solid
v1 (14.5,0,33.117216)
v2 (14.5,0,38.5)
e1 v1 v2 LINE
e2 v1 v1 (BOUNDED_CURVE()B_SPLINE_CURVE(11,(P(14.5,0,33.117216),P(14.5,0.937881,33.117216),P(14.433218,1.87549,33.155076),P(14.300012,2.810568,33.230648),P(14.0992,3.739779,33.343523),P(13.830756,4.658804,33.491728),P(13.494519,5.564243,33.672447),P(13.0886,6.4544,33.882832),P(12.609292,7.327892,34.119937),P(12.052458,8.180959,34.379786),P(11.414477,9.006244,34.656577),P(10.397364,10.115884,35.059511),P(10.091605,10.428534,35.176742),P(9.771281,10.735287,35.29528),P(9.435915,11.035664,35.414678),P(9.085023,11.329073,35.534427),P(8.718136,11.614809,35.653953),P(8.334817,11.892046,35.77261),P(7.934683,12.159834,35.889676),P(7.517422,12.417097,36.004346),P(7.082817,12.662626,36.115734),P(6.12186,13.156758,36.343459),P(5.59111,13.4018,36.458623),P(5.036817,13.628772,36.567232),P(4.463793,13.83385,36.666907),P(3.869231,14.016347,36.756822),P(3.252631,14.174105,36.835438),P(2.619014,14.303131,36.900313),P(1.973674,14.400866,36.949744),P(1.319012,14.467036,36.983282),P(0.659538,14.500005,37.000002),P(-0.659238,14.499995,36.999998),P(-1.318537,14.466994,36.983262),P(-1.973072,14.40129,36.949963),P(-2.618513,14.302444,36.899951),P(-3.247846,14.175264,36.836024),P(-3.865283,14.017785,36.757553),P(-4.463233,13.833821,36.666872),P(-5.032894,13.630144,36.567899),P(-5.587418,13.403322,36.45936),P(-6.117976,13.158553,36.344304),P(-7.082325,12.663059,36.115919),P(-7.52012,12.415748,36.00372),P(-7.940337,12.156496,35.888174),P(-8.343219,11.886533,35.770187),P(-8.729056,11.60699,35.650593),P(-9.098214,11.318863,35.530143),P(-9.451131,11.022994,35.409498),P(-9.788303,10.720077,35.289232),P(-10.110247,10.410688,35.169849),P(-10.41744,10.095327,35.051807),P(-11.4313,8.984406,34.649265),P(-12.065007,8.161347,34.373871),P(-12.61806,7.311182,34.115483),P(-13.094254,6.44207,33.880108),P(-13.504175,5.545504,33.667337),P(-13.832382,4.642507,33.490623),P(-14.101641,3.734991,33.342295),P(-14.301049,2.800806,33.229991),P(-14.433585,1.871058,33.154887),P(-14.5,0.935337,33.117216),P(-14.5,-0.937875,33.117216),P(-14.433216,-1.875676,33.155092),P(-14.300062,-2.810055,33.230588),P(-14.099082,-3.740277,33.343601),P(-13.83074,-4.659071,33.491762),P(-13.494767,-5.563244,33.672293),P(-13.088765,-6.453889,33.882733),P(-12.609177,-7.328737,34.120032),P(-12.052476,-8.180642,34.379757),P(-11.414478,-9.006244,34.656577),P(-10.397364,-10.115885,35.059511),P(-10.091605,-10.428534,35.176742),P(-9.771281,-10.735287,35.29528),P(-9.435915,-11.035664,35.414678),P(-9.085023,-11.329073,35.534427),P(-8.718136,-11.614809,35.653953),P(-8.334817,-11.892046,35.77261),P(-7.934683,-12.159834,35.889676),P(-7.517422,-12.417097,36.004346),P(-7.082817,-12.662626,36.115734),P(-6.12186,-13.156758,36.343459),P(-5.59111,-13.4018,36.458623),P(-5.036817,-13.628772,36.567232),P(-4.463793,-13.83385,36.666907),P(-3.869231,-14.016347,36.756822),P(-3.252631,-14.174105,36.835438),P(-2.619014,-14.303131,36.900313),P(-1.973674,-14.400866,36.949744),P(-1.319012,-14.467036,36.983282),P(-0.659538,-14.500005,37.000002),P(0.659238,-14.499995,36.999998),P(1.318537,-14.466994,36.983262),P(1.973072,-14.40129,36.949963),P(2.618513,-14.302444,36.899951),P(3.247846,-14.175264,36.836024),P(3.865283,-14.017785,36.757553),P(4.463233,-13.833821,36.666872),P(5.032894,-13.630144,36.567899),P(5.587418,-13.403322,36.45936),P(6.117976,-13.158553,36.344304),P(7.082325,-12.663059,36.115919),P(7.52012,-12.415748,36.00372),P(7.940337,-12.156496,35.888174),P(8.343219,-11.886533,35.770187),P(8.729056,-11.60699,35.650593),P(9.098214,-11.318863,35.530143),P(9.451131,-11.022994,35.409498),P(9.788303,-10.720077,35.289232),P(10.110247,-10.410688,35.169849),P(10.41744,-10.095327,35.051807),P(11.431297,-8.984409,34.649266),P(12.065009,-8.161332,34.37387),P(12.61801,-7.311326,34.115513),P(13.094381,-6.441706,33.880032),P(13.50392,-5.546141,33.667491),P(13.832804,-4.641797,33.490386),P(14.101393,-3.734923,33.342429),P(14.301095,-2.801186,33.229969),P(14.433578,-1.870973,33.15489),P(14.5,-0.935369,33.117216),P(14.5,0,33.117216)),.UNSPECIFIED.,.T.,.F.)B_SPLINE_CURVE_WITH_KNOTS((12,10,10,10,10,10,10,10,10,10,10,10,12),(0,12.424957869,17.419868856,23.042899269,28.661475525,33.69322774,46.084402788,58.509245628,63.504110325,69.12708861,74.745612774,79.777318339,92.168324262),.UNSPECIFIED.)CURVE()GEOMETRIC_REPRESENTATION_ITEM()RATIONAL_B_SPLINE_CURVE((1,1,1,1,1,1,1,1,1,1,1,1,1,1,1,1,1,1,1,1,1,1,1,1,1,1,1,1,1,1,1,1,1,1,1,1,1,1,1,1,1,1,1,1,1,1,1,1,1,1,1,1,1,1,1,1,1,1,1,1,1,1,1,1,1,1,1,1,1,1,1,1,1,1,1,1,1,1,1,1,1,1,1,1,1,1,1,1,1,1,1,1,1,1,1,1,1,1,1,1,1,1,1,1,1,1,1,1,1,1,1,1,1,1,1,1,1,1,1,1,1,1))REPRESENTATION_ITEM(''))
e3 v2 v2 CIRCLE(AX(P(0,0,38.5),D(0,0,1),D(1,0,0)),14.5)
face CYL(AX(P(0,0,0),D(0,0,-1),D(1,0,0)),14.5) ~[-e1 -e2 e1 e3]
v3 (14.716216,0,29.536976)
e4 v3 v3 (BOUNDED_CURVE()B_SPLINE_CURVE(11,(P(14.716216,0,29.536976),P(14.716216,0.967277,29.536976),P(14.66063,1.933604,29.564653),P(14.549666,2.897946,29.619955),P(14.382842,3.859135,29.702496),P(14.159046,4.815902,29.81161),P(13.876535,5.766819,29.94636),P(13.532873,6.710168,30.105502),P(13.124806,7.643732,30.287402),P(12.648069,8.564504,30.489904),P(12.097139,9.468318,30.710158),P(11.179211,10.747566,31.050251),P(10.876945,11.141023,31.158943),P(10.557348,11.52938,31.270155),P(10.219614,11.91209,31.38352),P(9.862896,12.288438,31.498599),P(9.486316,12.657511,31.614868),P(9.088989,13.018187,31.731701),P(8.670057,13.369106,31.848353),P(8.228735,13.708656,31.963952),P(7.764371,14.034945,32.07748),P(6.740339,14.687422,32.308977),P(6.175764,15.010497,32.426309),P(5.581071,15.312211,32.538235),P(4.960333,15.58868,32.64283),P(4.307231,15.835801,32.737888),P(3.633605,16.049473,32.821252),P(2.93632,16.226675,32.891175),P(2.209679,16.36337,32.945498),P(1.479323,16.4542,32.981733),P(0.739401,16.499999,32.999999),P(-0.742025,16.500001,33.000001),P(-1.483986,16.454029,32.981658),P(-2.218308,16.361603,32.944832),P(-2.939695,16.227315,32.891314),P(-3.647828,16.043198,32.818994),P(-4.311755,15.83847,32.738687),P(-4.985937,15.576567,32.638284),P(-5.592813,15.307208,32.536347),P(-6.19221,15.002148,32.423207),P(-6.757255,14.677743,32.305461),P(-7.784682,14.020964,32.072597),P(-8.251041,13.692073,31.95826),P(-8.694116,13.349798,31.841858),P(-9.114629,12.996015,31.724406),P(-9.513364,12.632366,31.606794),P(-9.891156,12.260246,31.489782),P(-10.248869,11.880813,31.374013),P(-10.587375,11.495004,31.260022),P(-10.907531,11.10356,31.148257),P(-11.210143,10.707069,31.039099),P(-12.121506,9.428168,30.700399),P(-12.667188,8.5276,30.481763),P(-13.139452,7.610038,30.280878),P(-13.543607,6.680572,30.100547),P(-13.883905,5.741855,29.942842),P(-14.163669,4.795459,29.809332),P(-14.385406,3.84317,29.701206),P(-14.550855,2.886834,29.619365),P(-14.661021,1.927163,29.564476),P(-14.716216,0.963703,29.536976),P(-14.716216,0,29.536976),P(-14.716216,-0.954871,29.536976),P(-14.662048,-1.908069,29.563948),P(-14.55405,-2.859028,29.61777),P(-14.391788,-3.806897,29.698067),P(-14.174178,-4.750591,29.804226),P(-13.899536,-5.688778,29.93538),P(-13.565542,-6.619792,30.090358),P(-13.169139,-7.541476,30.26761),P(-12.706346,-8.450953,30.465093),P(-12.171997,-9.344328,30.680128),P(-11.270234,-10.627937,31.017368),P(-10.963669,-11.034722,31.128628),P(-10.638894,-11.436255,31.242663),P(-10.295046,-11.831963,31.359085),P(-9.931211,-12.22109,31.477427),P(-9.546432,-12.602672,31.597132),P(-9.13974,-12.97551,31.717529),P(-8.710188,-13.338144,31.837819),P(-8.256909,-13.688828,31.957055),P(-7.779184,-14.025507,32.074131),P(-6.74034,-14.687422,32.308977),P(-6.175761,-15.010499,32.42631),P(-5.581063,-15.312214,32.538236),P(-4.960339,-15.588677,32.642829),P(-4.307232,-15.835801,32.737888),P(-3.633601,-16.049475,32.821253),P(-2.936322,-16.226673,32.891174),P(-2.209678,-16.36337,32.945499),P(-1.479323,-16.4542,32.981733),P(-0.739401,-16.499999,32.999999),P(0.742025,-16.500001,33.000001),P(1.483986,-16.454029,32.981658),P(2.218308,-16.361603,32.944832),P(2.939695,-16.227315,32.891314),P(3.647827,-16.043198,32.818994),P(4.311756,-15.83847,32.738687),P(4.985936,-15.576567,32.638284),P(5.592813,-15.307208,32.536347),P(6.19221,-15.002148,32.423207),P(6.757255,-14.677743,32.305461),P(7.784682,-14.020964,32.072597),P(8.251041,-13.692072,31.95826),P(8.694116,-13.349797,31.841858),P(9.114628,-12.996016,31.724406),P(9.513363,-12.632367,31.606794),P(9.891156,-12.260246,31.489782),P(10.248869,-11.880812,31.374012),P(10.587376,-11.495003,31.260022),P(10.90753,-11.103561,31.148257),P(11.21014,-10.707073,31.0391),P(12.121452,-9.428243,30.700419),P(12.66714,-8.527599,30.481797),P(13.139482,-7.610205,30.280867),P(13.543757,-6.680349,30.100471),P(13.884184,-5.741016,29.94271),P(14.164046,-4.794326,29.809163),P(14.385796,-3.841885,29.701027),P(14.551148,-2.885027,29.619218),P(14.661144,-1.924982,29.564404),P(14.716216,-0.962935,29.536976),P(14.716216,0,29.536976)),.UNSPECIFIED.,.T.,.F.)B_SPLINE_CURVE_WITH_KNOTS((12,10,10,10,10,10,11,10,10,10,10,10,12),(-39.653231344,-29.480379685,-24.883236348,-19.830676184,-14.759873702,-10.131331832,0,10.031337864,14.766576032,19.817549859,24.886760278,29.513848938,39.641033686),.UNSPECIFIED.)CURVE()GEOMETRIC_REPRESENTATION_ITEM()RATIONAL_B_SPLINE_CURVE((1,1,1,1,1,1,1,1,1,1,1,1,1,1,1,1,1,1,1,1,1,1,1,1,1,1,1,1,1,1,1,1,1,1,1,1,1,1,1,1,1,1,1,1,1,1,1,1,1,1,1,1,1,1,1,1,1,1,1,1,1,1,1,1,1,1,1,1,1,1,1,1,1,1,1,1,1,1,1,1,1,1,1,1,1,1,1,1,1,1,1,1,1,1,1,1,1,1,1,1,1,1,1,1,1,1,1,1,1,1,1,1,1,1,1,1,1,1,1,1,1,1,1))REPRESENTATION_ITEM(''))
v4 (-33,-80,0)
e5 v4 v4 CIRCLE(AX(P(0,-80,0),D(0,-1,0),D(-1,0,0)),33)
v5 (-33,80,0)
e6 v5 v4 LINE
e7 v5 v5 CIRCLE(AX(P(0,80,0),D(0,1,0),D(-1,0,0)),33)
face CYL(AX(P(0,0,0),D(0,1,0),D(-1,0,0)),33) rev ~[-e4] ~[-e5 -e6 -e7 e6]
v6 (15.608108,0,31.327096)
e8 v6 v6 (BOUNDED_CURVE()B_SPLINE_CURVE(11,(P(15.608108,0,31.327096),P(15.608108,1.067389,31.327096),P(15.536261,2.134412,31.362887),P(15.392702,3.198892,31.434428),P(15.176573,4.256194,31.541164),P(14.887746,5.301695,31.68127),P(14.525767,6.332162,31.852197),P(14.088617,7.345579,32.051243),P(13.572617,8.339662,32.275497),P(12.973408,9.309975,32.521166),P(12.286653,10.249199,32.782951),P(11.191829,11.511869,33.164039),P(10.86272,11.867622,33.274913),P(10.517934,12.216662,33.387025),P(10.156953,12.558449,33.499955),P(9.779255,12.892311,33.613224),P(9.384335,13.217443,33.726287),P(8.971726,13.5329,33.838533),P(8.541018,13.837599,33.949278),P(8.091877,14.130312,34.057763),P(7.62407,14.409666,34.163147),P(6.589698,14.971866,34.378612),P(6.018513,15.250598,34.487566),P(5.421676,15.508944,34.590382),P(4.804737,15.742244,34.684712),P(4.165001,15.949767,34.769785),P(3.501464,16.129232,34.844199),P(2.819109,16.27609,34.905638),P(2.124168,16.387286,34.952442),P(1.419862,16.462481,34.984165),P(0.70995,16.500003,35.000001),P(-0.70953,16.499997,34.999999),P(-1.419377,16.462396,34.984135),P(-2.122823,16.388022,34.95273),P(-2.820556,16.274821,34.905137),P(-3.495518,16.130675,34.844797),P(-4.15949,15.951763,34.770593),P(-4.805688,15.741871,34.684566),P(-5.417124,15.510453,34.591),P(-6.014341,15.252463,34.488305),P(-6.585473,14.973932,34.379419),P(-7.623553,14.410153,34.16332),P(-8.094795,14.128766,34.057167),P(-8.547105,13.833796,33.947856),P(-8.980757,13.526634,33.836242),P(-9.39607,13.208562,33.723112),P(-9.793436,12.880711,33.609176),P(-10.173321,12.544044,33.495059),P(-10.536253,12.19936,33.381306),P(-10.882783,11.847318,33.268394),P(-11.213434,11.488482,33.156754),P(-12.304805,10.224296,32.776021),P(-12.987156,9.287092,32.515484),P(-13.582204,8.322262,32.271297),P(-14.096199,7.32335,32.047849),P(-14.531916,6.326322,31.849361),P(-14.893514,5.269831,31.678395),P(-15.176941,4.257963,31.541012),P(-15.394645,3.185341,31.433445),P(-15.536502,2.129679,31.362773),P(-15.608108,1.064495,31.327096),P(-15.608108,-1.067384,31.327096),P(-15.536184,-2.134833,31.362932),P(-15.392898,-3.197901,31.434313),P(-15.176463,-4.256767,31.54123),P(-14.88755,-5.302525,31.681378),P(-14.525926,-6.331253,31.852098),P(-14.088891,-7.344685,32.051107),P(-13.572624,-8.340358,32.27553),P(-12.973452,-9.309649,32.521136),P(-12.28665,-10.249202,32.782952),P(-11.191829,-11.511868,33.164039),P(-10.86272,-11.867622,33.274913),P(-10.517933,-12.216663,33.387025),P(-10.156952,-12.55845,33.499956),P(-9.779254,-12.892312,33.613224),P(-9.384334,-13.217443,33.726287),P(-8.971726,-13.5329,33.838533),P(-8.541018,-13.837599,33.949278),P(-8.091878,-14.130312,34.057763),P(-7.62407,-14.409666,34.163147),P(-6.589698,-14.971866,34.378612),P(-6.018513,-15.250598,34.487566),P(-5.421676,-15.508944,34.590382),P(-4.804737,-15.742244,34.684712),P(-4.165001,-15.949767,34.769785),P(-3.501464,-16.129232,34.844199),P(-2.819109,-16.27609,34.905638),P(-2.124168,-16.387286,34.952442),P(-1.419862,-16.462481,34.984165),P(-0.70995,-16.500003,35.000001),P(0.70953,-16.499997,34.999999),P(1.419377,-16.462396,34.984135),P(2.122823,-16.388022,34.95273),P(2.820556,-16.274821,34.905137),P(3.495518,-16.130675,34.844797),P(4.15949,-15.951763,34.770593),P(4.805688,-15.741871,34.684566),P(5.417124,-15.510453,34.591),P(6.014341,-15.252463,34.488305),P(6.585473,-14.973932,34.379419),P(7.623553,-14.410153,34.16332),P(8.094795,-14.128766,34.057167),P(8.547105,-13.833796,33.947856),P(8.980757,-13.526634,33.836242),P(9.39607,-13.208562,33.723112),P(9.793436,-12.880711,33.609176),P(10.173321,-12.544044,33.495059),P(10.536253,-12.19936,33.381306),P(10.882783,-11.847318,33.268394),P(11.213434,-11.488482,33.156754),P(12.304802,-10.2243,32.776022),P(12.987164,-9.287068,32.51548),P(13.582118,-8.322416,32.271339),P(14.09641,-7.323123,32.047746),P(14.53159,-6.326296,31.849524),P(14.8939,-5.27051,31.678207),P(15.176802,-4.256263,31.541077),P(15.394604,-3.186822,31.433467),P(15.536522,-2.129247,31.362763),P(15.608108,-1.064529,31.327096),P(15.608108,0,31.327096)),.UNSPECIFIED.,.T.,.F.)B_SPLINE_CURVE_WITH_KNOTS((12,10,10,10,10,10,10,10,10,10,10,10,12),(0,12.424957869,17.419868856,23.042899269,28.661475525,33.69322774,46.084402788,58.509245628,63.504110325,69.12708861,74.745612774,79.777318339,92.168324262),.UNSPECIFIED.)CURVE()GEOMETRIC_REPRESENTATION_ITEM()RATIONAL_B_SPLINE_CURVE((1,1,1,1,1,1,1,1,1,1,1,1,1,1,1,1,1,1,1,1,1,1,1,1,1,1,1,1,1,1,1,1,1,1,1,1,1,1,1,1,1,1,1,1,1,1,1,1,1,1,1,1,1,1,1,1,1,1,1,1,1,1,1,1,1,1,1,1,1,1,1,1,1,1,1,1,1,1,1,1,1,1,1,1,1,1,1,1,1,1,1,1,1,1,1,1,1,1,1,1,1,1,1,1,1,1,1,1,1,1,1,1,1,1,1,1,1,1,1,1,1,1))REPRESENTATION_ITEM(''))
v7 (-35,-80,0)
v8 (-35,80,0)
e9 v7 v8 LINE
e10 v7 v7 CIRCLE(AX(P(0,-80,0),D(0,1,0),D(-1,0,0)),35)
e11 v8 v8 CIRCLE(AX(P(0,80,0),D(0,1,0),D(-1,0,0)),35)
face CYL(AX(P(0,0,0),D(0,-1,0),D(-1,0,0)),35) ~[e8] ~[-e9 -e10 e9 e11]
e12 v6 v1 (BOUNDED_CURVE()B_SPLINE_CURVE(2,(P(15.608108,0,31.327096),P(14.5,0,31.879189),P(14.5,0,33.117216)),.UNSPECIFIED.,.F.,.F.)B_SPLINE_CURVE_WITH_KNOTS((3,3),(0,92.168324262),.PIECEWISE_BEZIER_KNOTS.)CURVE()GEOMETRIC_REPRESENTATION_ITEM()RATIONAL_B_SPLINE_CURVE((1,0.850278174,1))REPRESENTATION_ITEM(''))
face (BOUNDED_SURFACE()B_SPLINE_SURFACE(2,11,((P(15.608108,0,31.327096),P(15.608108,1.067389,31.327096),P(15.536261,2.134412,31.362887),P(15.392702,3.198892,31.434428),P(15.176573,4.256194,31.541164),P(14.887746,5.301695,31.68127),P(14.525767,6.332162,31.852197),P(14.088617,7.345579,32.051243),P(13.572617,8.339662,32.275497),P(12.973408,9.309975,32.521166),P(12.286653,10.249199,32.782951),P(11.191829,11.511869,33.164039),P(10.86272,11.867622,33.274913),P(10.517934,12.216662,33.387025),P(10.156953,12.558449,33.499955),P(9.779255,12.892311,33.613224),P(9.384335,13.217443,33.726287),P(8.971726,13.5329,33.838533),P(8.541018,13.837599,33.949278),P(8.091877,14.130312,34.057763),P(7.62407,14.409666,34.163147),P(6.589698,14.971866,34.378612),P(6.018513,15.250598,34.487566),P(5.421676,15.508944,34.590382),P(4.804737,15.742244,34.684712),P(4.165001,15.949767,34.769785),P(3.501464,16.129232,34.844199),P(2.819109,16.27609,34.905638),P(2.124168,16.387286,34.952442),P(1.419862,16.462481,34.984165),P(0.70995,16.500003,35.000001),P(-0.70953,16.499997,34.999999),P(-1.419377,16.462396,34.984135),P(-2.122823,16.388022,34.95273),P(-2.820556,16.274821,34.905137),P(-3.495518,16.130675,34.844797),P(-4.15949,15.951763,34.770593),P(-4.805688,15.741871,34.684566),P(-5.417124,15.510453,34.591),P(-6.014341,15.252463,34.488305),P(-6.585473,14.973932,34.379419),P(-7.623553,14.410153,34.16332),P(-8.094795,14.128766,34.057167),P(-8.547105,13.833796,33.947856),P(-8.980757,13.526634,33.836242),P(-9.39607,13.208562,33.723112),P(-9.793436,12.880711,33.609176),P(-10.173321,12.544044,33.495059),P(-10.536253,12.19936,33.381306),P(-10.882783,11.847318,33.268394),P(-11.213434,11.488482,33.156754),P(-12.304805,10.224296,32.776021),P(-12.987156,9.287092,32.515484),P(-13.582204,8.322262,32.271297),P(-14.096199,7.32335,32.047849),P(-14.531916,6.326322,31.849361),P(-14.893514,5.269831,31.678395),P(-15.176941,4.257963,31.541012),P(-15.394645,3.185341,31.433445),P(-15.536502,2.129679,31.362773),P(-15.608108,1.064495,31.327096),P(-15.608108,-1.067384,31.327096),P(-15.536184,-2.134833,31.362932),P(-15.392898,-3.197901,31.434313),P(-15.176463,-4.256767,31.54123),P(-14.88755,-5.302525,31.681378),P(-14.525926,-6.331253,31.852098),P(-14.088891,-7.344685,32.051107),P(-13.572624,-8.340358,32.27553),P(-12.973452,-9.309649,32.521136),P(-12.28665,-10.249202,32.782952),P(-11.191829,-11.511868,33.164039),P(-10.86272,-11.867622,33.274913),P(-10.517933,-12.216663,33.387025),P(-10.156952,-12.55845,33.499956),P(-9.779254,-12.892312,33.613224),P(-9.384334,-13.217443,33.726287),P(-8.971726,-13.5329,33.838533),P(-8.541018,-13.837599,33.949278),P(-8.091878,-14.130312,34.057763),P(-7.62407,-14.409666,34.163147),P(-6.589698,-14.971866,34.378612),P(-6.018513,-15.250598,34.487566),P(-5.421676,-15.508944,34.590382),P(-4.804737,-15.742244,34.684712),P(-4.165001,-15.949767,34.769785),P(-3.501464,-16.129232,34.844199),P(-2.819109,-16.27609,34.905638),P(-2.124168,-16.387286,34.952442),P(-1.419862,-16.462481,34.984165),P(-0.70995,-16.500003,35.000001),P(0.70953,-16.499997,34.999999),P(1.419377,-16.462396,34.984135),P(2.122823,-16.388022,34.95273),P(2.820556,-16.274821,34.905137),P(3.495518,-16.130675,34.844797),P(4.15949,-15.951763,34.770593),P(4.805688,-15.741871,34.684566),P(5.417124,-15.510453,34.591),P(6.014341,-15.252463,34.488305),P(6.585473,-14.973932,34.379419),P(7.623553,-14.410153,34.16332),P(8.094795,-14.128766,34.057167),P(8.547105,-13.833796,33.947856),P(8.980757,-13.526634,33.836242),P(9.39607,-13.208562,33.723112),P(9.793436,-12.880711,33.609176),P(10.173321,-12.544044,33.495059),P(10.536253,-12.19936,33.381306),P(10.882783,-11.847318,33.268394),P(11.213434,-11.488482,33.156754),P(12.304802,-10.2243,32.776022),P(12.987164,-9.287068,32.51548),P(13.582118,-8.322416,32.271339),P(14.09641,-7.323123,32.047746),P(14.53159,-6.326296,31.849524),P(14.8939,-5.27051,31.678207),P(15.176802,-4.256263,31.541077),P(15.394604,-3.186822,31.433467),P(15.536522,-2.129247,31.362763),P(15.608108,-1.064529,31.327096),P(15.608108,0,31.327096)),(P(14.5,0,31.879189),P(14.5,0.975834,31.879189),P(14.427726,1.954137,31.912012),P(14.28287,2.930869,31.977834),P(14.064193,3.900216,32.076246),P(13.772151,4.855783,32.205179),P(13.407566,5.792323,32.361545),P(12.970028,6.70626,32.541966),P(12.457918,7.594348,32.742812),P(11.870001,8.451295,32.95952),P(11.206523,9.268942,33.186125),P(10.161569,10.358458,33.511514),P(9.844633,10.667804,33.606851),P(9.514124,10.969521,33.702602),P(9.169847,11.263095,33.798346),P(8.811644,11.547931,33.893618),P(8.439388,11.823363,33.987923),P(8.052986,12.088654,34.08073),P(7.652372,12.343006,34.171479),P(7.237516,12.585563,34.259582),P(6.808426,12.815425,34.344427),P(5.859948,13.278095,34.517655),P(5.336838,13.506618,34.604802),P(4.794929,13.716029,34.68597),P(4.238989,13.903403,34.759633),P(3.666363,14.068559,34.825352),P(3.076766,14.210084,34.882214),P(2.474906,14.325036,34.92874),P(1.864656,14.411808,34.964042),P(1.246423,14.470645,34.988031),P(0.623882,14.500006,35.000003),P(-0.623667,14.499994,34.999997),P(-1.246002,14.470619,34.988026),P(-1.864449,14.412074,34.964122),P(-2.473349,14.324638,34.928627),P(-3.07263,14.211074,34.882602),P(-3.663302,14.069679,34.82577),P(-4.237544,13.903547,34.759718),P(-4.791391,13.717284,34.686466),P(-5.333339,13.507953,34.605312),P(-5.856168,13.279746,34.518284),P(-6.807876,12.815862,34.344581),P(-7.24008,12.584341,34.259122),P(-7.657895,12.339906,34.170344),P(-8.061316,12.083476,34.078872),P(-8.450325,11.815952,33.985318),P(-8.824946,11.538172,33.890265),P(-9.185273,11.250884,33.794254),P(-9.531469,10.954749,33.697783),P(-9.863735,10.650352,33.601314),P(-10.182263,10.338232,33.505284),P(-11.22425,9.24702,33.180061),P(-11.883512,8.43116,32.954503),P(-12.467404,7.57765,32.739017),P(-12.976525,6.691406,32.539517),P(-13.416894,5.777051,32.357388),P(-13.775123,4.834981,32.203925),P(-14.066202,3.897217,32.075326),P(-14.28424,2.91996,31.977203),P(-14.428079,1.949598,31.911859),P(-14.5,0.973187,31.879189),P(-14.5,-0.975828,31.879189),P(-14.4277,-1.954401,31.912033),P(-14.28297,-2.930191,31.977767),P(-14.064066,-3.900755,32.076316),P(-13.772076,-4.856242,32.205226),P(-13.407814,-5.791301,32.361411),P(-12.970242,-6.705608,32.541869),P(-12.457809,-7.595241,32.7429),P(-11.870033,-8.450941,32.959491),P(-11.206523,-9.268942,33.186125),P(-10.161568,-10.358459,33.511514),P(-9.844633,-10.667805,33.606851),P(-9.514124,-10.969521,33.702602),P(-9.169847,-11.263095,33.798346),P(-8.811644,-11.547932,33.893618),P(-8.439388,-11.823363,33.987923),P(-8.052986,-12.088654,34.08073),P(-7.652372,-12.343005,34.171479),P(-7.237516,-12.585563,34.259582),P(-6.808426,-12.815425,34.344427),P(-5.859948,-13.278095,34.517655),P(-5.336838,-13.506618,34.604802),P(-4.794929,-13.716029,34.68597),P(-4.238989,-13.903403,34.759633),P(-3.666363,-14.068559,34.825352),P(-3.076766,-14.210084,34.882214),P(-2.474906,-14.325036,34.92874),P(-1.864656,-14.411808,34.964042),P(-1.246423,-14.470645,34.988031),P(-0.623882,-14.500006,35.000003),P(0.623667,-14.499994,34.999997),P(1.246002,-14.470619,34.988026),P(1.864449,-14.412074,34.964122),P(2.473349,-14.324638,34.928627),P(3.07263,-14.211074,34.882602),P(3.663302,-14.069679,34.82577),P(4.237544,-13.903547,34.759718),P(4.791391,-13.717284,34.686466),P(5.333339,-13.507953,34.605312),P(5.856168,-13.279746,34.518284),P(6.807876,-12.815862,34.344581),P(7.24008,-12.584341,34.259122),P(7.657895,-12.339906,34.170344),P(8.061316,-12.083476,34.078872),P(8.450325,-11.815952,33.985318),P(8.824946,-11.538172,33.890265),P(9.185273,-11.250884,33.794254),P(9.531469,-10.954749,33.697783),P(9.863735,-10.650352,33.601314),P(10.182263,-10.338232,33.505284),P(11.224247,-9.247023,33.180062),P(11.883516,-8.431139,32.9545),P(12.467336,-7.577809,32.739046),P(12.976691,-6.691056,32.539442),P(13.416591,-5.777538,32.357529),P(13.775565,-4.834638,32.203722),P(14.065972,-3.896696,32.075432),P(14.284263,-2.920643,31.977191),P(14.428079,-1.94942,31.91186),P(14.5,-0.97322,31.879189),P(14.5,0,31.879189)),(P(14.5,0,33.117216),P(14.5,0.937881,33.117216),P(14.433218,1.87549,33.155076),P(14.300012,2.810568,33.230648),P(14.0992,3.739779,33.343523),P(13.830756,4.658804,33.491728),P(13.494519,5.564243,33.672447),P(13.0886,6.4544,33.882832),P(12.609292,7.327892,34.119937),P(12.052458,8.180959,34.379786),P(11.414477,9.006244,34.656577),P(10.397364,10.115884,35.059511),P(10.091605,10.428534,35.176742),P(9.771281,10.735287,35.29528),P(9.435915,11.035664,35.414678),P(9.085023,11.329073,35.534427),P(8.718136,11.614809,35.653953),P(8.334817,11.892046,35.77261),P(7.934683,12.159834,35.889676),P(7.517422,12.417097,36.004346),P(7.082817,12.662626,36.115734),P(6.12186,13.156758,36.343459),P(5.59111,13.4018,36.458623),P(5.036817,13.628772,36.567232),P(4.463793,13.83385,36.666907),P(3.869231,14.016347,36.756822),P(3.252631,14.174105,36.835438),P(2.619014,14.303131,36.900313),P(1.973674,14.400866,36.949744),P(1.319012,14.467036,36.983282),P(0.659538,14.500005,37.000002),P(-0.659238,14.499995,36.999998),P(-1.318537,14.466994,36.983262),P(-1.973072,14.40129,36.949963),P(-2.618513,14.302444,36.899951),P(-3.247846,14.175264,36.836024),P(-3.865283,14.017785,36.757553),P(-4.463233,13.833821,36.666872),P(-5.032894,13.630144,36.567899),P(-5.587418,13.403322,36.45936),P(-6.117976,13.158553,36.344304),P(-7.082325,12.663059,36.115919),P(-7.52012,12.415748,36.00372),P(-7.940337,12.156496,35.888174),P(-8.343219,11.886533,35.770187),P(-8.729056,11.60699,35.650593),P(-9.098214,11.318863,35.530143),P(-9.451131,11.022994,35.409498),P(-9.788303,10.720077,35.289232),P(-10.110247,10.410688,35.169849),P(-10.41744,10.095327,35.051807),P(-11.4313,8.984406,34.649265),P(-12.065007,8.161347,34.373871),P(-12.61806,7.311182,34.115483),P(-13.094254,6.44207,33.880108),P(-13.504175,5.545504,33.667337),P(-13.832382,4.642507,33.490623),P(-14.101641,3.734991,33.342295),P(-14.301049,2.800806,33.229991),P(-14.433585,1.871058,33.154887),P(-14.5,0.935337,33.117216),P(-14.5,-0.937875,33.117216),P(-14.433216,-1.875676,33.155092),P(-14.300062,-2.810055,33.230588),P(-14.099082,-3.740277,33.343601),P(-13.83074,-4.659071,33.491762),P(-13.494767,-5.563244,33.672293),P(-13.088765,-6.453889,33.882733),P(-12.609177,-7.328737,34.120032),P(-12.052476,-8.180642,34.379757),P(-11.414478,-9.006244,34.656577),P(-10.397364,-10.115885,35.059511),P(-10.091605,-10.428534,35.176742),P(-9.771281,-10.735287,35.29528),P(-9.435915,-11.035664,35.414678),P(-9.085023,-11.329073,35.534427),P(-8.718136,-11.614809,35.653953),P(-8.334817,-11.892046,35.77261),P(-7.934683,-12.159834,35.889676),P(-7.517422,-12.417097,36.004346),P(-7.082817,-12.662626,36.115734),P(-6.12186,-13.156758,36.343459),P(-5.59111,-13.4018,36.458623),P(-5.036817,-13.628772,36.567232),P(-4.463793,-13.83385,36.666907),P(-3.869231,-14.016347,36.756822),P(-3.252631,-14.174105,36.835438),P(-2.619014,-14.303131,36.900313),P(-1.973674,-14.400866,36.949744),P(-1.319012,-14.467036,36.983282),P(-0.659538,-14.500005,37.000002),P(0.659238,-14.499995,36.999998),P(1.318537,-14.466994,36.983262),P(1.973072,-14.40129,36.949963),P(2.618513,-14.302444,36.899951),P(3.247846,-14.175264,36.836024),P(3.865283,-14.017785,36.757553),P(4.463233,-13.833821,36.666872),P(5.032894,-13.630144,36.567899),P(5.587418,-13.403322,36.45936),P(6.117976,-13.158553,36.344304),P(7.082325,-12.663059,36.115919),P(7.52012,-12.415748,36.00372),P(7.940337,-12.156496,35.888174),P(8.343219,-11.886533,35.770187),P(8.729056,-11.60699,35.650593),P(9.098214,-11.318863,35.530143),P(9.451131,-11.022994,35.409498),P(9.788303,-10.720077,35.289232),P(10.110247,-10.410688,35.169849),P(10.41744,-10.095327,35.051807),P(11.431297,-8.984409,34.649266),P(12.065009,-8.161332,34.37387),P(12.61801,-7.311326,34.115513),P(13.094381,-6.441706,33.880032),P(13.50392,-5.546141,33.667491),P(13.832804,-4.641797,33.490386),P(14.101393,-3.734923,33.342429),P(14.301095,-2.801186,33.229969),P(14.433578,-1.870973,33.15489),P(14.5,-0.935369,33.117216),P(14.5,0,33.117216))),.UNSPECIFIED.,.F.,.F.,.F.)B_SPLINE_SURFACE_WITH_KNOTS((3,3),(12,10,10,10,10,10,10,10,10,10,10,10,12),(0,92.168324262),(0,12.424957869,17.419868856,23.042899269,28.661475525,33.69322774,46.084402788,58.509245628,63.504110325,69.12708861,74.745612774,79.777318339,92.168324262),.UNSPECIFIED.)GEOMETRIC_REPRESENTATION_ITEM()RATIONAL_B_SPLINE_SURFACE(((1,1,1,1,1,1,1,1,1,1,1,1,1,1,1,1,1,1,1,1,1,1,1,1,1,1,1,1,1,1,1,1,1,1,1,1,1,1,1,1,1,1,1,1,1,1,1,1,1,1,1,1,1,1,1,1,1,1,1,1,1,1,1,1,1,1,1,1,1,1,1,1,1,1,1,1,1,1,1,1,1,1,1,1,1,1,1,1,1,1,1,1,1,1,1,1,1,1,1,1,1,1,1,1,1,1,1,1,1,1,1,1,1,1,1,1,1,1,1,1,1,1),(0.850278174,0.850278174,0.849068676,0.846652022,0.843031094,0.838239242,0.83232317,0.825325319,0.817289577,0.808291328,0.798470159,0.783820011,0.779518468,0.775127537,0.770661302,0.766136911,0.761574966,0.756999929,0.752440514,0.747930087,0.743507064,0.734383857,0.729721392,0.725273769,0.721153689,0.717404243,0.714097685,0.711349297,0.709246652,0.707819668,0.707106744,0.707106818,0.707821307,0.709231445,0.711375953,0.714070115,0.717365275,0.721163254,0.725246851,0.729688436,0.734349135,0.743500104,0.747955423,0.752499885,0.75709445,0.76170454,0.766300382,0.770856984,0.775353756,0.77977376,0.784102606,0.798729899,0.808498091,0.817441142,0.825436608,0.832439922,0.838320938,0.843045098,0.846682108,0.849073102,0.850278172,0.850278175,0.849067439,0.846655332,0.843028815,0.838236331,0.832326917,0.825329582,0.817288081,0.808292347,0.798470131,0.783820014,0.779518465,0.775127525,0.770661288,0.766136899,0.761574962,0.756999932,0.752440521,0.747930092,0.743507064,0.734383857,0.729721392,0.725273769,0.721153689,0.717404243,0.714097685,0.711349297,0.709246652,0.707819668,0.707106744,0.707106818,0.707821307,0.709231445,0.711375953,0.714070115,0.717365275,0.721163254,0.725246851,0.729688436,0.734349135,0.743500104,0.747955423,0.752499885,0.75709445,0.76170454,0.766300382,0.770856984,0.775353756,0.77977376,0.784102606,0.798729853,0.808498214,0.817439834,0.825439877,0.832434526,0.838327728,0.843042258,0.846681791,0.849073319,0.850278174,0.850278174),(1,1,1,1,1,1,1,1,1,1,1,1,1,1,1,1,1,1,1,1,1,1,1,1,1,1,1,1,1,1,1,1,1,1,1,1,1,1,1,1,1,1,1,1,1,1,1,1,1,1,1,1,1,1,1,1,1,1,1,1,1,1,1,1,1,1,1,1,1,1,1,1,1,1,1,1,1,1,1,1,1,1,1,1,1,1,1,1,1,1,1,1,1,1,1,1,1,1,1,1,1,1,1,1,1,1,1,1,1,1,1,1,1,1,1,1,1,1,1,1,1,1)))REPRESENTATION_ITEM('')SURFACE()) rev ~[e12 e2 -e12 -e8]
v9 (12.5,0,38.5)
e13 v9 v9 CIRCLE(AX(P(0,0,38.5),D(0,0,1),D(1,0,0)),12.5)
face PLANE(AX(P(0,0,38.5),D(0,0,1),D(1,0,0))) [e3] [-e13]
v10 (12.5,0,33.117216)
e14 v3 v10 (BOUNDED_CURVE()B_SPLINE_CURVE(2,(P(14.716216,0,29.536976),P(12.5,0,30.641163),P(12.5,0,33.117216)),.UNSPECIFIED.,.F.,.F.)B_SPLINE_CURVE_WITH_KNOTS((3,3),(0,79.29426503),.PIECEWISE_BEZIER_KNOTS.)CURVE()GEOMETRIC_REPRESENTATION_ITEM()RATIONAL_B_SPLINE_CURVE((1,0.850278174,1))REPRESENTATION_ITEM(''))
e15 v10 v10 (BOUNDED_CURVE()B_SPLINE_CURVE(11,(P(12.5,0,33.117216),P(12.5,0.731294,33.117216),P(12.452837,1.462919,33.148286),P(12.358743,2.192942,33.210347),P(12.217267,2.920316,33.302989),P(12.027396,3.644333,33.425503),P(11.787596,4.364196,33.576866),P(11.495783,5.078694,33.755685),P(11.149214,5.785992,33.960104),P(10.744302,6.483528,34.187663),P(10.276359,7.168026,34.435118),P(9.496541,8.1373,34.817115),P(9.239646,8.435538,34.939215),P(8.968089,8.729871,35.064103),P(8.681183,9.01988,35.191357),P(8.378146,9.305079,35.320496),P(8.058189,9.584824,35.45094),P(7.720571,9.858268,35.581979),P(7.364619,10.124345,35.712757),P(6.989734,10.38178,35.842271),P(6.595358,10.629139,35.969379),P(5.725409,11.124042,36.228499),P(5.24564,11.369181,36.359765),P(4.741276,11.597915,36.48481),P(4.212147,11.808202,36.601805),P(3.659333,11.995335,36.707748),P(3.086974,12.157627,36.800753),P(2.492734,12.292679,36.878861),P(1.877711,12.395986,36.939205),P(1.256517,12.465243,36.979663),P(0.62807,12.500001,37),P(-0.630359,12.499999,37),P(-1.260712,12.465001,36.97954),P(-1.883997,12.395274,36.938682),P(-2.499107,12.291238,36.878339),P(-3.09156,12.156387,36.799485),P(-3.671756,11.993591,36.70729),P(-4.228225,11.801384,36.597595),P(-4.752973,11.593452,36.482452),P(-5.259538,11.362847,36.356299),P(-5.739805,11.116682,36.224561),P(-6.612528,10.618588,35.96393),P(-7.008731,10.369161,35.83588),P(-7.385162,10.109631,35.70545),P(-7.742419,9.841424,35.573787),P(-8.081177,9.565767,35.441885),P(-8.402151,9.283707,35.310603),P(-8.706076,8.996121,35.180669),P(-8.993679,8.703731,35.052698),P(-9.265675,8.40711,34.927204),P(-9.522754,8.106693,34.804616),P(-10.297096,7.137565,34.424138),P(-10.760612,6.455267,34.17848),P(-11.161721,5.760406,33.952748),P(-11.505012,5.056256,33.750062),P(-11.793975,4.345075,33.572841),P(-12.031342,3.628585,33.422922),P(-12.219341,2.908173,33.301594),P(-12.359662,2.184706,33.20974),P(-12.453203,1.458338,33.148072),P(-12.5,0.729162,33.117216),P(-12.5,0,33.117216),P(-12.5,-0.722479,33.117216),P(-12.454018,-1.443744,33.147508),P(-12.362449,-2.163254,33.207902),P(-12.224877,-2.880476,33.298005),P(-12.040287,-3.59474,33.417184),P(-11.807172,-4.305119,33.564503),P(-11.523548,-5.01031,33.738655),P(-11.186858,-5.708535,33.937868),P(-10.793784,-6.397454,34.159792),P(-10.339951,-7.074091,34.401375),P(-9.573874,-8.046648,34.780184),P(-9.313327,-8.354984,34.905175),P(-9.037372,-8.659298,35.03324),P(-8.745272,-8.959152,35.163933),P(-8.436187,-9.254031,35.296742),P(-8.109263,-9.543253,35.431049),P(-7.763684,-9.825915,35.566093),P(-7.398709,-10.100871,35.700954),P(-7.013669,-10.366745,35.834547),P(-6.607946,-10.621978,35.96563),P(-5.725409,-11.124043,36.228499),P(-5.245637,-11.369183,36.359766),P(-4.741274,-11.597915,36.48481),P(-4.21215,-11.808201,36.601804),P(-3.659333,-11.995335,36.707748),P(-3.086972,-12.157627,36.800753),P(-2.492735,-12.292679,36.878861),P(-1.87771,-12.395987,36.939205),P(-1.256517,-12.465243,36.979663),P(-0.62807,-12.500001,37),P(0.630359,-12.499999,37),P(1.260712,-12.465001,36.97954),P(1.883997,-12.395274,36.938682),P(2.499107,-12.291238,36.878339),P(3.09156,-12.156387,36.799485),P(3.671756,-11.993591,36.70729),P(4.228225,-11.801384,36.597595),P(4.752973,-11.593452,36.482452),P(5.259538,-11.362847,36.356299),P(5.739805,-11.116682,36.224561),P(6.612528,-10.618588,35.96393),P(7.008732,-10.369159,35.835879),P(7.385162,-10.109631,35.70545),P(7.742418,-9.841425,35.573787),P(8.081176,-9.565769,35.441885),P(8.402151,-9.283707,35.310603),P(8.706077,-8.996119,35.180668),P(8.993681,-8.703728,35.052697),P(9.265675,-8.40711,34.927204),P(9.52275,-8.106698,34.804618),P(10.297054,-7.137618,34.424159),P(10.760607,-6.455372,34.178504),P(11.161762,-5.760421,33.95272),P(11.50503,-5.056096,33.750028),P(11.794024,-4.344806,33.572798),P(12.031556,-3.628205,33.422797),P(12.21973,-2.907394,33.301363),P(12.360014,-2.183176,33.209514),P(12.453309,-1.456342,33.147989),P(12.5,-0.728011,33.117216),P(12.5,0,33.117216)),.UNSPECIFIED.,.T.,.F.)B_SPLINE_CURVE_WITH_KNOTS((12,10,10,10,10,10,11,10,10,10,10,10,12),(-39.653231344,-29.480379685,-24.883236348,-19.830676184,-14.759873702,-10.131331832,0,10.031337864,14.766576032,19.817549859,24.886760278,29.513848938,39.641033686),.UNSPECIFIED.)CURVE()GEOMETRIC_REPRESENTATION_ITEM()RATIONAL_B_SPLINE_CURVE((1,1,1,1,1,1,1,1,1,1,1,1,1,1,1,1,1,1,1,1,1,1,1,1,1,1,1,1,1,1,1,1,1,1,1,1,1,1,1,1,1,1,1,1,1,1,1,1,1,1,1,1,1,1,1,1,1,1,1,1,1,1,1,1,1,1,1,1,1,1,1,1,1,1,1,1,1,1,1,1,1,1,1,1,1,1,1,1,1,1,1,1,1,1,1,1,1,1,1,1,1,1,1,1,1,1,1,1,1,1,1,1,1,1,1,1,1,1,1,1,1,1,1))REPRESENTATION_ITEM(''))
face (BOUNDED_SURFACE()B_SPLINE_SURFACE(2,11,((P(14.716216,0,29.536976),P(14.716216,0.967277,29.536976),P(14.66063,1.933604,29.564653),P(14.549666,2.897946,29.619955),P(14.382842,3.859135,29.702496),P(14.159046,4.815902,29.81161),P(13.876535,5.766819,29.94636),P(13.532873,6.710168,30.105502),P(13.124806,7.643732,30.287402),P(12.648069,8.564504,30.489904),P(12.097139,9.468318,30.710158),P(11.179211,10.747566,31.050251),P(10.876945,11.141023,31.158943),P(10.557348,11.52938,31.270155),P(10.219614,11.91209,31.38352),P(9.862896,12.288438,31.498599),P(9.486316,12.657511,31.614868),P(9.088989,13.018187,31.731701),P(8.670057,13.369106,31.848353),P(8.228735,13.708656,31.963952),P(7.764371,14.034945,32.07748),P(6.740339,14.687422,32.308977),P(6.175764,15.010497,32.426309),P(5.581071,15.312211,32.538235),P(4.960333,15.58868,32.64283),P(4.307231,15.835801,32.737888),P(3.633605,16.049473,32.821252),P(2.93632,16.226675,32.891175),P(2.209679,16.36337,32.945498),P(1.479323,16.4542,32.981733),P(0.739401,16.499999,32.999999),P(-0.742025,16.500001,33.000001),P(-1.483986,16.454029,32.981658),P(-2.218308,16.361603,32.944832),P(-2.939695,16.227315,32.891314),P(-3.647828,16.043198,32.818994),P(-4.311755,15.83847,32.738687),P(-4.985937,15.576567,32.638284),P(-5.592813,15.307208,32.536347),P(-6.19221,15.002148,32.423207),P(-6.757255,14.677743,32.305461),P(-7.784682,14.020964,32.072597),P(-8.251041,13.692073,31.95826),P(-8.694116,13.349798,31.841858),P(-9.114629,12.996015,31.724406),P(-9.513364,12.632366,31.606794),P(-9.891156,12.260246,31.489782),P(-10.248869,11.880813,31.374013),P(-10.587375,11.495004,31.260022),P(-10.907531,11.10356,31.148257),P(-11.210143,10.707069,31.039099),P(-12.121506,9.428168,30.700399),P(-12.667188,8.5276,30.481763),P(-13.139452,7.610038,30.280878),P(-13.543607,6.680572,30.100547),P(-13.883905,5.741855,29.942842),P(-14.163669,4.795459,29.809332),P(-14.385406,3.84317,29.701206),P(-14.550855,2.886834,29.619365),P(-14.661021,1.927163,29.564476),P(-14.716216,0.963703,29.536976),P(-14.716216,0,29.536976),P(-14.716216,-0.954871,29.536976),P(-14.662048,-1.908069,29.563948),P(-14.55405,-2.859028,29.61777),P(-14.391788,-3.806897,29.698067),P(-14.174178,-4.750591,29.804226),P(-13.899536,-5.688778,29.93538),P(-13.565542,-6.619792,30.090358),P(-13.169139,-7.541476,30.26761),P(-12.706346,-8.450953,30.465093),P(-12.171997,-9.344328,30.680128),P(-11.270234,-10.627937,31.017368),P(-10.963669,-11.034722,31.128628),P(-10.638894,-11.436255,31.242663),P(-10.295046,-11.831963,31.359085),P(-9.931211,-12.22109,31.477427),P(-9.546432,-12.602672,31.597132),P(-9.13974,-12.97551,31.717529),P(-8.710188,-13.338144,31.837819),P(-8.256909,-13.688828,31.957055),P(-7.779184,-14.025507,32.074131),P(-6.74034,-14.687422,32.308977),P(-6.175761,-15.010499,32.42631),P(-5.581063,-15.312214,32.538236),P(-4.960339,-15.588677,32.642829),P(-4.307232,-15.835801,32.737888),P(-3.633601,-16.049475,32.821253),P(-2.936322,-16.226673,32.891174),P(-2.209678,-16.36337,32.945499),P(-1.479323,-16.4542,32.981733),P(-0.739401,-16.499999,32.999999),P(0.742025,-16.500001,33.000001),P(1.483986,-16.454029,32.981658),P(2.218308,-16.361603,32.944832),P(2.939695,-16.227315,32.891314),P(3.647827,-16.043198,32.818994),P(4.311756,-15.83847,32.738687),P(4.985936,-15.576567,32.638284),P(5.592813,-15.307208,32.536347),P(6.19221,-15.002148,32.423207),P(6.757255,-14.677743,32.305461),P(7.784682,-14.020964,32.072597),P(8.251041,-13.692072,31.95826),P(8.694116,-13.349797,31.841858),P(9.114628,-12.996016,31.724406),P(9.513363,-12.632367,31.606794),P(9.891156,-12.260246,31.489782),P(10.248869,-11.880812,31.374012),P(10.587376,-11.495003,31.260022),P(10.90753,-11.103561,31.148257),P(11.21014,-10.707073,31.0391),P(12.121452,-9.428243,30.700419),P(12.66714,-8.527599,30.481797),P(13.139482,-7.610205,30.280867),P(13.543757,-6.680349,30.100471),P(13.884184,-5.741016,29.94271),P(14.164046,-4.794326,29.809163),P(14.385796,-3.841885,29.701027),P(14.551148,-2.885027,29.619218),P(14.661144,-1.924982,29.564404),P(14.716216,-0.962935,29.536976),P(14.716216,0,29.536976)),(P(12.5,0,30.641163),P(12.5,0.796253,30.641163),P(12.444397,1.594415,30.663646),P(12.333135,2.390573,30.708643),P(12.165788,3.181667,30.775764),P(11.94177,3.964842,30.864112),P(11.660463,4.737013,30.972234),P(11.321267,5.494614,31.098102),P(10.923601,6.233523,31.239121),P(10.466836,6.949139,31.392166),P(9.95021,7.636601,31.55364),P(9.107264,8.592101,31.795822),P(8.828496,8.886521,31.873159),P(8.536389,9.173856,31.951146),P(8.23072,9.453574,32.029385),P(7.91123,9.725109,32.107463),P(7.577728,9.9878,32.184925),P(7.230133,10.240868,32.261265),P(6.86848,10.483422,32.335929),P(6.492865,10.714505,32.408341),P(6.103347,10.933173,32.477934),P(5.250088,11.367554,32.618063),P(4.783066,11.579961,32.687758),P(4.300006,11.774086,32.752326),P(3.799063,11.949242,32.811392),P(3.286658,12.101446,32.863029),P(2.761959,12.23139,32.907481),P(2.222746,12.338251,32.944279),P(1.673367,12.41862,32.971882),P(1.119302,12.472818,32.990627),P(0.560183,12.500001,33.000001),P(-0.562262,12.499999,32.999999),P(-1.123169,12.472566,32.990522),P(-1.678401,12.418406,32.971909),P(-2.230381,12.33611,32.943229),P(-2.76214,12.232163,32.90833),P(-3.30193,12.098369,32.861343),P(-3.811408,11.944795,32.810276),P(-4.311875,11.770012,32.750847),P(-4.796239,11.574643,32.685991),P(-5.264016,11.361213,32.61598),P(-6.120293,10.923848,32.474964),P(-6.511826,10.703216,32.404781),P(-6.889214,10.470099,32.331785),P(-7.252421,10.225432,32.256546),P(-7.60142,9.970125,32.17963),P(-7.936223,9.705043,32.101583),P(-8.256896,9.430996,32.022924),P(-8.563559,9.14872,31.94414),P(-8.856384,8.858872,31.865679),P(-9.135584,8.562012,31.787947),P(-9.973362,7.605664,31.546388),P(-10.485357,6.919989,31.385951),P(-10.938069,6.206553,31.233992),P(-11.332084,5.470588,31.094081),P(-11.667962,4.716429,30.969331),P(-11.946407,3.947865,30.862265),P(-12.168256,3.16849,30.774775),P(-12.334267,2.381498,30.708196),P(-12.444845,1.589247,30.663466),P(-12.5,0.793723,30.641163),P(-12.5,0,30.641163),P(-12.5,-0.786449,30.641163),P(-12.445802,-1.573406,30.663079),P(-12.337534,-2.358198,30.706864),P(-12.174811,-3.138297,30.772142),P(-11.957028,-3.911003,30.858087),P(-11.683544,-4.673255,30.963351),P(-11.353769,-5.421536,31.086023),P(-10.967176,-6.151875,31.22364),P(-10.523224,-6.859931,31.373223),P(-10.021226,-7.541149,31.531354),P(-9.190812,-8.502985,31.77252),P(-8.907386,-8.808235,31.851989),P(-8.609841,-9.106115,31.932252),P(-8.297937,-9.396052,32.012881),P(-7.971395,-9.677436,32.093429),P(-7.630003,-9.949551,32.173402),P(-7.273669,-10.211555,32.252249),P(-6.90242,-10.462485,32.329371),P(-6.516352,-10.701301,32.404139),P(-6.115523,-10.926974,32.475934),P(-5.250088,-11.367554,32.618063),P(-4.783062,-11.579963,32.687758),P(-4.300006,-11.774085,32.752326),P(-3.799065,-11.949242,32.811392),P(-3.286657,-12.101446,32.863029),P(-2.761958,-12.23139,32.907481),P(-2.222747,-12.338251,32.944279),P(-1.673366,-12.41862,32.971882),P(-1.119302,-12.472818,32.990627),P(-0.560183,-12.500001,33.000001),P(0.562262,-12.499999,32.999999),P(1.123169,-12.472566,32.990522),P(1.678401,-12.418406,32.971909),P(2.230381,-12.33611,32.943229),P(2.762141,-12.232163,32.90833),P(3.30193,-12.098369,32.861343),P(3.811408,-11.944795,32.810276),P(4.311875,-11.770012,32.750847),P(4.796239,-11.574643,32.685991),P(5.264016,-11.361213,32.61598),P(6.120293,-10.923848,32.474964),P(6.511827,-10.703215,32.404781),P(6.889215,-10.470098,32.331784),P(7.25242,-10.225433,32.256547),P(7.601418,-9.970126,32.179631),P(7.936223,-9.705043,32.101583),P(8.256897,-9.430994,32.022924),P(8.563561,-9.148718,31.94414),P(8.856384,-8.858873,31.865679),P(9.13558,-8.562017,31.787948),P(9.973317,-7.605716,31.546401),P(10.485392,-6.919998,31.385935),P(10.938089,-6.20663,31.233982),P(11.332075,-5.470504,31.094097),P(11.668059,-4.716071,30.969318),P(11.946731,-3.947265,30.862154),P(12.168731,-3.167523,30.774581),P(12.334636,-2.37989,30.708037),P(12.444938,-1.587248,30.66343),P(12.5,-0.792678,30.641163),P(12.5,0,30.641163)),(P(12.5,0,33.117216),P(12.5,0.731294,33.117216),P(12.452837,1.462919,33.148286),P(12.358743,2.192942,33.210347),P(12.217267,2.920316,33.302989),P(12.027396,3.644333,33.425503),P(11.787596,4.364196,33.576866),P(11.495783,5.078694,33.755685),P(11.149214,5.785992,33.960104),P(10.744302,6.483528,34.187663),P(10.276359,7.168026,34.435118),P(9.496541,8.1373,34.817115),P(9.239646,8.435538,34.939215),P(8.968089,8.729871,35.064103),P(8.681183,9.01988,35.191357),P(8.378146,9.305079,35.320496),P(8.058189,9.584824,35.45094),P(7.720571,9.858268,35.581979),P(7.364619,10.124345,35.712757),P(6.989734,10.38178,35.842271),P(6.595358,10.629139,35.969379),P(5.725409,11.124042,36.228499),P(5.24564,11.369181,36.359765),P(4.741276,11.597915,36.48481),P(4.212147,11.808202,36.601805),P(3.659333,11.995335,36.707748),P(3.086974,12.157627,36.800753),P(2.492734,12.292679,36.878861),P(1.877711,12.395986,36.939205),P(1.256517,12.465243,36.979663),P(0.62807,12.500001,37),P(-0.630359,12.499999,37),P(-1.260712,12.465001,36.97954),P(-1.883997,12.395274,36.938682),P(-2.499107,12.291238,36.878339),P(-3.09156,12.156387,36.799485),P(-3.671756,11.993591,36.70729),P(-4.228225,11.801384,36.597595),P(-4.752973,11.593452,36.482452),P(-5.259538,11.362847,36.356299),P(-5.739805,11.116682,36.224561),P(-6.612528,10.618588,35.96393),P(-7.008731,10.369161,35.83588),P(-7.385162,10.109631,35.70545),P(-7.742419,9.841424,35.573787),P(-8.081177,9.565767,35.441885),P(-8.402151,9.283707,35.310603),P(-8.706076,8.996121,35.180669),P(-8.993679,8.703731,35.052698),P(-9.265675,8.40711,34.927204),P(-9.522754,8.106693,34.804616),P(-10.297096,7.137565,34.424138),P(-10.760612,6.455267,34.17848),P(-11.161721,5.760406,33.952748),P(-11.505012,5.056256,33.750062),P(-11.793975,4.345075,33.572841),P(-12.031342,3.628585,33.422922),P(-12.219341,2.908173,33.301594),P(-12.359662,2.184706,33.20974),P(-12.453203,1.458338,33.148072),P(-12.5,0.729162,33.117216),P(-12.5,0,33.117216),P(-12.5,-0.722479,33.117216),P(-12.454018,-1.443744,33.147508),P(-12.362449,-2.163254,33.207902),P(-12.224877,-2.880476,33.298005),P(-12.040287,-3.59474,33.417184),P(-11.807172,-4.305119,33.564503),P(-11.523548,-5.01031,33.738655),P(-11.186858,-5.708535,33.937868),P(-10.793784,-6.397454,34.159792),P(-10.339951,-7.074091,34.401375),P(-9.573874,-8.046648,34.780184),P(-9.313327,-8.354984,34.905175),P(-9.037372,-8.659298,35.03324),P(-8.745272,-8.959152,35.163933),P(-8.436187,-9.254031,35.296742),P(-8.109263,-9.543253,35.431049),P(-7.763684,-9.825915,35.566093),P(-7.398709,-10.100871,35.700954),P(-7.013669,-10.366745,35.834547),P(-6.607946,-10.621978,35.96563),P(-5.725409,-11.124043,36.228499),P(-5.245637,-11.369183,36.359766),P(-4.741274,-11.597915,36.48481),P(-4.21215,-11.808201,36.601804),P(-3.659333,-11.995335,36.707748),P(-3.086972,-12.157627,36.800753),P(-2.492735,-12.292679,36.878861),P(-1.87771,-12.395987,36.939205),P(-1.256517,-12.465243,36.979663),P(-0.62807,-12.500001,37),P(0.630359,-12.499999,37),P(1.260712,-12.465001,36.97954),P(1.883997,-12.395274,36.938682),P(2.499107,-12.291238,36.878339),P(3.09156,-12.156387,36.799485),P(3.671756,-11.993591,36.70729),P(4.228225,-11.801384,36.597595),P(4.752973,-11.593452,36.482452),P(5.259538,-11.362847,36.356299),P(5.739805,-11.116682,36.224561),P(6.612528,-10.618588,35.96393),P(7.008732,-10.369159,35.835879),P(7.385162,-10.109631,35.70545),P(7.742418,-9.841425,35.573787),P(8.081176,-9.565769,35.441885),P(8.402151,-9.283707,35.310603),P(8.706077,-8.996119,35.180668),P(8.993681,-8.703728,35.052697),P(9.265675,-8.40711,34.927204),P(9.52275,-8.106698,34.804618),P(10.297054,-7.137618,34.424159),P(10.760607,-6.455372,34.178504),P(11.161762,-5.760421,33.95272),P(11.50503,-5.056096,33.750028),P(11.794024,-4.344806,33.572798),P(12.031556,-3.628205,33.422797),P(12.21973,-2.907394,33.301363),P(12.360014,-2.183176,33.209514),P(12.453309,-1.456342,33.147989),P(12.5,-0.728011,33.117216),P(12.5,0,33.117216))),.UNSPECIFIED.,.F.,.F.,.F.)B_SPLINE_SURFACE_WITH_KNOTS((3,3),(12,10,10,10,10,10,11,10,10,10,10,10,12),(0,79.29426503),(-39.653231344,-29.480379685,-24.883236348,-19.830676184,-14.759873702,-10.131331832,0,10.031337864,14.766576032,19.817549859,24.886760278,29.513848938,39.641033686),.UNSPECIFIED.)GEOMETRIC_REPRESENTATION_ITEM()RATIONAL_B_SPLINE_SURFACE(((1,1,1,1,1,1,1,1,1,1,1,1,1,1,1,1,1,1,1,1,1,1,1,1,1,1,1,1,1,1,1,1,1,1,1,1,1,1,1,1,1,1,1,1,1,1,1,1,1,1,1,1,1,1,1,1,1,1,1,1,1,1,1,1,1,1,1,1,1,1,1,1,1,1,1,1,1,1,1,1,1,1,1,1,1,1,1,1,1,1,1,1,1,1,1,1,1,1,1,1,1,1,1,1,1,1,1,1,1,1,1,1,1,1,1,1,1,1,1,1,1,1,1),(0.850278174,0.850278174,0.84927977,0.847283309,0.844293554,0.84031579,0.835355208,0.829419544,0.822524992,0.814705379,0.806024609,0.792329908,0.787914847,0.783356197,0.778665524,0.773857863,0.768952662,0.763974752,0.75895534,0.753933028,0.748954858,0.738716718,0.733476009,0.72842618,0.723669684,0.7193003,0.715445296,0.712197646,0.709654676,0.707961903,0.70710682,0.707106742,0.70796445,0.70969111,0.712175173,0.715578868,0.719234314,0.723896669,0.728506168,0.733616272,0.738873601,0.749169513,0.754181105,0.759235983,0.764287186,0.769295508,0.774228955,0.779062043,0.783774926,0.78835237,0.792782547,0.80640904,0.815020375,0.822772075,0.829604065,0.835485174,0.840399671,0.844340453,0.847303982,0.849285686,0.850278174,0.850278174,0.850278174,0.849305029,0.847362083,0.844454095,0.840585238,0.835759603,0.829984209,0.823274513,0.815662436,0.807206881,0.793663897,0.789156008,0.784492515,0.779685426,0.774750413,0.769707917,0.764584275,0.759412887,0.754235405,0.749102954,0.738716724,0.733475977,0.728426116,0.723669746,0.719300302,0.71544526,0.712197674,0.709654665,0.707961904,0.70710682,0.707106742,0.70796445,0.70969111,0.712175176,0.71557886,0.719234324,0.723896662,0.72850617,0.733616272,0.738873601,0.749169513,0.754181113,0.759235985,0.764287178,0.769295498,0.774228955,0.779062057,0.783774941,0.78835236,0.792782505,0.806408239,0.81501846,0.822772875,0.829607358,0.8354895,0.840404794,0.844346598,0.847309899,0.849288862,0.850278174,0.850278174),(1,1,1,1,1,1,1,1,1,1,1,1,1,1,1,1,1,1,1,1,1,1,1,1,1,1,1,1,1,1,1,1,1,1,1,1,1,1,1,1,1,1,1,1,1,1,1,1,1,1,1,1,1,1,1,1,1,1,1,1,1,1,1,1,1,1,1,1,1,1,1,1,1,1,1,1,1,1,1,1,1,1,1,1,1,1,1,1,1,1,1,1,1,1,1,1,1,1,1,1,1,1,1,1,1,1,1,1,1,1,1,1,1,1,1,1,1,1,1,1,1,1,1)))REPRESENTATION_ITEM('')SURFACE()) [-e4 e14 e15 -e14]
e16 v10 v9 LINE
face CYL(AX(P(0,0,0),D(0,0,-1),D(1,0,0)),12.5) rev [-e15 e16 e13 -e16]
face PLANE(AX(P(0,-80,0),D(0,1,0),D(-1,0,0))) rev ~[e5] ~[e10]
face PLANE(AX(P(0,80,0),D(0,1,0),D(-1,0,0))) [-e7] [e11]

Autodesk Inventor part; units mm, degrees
ref_plane "YZ Plane" through (0, 0, 0) normal (1, 0, 0) x (0, 1, 0)
ref_plane "XZ Plane" through (0, 0, 0) normal (0, 1, 0) x (-1, 0, 0)
ref_plane "XY Plane" through (0, 0, 0) normal (0, 0, 1) x (1, 0, 0)
sketch "Szkic8" plane through (0, 0, 0) normal (0, 1, 0) x (-1, 0, 0)
  circle A0 centre (0, 0) radius 35
  circle A1 centre (0, 0) radius 33
  dimension "d53" = 70
  dimension "d54" = 2
extrude "Wyciągnięcie proste2" add sketch "Szkic8" along normal mid plane 160
sketch "Szkic13" plane through (0, 0, 0) normal (0, 0, 1) x (1, 0, 0)
  circle A0 centre (0, 0) radius 14.5
  circle A1 centre (0, 0) radius 12.5
  dimension "d67" = 29
  dimension "d68" = 2
extrude "Wyciągnięcie proste6" add sketch "Szkic13" along normal blind 38.5
sketch "Szkic14" plane through (0, 0, 38.5) normal (0, 0, 1) x (1, 0, 0)
  circle A0 centre (0, 0) radius 12.5 projected
extrude "Wyciągnięcie proste7" cut sketch "Szkic14" against normal blind 38.5
sketch "Szkic15" plane through (0, -80, 0) normal (0, -1, 0) x (1, 0, 0)
  circle A0 centre (0, 0) radius 33 projected
extrude "Wyciągnięcie proste8" cut sketch "Szkic15" against normal blind 160
fillet "Zaokrąglenie3" radius 2 2 edges at (0.0009, 14.5, 35) (-0.0009, -14.5, 35)
fillet "Zaokrąglenie4" radius 4 2 edges at (0.0036, -12.5, 33) (-0.005, 12.5, 33)
equation "\"d53\" = OD"
equation "\"d54\" = THK"
equation "\"d55\" = L1"
equation "\"d67\" = OD2"
equation "\"d68\" = THK"
equation "\"d69\" = L2"
equation "\"d71\" = L2"
equation "\"d73\" = L1"
equation "\"d75\" = THK"
equation "\"d76\" = 2 * THK"
equation "\"SzerokośćGięciaPodcięcia\" = Grubość"
equation "\"RozmiarPodcięciaNarożnika\" = 4 * Grubość"
equation "\"PromieńPrzejścia\" = PromieńGięcia"
equation "\"Rozmiar_promienia_Jacobiego\" = PromieńGięcia"
equation "\"Wielk_odstępu\" = Grubość"
equation "\"d2\" = PromieńGięcia"
equation "\"d23\" = PromieńGięcia"
equation "\"OD\" = 70"
equation "\"THK\" = 2"
equation "\"L1\" = 160"
equation "\"L2\" = 38.5"
equation "\"OD2\" = 29"
equation "\"Grubość\" = 1.5"
equation "\"PromieńGięcia\" = 3"
properties part number "Trójnik red. krótki  Ø70 29 70 s=2 L=160" material "304"
